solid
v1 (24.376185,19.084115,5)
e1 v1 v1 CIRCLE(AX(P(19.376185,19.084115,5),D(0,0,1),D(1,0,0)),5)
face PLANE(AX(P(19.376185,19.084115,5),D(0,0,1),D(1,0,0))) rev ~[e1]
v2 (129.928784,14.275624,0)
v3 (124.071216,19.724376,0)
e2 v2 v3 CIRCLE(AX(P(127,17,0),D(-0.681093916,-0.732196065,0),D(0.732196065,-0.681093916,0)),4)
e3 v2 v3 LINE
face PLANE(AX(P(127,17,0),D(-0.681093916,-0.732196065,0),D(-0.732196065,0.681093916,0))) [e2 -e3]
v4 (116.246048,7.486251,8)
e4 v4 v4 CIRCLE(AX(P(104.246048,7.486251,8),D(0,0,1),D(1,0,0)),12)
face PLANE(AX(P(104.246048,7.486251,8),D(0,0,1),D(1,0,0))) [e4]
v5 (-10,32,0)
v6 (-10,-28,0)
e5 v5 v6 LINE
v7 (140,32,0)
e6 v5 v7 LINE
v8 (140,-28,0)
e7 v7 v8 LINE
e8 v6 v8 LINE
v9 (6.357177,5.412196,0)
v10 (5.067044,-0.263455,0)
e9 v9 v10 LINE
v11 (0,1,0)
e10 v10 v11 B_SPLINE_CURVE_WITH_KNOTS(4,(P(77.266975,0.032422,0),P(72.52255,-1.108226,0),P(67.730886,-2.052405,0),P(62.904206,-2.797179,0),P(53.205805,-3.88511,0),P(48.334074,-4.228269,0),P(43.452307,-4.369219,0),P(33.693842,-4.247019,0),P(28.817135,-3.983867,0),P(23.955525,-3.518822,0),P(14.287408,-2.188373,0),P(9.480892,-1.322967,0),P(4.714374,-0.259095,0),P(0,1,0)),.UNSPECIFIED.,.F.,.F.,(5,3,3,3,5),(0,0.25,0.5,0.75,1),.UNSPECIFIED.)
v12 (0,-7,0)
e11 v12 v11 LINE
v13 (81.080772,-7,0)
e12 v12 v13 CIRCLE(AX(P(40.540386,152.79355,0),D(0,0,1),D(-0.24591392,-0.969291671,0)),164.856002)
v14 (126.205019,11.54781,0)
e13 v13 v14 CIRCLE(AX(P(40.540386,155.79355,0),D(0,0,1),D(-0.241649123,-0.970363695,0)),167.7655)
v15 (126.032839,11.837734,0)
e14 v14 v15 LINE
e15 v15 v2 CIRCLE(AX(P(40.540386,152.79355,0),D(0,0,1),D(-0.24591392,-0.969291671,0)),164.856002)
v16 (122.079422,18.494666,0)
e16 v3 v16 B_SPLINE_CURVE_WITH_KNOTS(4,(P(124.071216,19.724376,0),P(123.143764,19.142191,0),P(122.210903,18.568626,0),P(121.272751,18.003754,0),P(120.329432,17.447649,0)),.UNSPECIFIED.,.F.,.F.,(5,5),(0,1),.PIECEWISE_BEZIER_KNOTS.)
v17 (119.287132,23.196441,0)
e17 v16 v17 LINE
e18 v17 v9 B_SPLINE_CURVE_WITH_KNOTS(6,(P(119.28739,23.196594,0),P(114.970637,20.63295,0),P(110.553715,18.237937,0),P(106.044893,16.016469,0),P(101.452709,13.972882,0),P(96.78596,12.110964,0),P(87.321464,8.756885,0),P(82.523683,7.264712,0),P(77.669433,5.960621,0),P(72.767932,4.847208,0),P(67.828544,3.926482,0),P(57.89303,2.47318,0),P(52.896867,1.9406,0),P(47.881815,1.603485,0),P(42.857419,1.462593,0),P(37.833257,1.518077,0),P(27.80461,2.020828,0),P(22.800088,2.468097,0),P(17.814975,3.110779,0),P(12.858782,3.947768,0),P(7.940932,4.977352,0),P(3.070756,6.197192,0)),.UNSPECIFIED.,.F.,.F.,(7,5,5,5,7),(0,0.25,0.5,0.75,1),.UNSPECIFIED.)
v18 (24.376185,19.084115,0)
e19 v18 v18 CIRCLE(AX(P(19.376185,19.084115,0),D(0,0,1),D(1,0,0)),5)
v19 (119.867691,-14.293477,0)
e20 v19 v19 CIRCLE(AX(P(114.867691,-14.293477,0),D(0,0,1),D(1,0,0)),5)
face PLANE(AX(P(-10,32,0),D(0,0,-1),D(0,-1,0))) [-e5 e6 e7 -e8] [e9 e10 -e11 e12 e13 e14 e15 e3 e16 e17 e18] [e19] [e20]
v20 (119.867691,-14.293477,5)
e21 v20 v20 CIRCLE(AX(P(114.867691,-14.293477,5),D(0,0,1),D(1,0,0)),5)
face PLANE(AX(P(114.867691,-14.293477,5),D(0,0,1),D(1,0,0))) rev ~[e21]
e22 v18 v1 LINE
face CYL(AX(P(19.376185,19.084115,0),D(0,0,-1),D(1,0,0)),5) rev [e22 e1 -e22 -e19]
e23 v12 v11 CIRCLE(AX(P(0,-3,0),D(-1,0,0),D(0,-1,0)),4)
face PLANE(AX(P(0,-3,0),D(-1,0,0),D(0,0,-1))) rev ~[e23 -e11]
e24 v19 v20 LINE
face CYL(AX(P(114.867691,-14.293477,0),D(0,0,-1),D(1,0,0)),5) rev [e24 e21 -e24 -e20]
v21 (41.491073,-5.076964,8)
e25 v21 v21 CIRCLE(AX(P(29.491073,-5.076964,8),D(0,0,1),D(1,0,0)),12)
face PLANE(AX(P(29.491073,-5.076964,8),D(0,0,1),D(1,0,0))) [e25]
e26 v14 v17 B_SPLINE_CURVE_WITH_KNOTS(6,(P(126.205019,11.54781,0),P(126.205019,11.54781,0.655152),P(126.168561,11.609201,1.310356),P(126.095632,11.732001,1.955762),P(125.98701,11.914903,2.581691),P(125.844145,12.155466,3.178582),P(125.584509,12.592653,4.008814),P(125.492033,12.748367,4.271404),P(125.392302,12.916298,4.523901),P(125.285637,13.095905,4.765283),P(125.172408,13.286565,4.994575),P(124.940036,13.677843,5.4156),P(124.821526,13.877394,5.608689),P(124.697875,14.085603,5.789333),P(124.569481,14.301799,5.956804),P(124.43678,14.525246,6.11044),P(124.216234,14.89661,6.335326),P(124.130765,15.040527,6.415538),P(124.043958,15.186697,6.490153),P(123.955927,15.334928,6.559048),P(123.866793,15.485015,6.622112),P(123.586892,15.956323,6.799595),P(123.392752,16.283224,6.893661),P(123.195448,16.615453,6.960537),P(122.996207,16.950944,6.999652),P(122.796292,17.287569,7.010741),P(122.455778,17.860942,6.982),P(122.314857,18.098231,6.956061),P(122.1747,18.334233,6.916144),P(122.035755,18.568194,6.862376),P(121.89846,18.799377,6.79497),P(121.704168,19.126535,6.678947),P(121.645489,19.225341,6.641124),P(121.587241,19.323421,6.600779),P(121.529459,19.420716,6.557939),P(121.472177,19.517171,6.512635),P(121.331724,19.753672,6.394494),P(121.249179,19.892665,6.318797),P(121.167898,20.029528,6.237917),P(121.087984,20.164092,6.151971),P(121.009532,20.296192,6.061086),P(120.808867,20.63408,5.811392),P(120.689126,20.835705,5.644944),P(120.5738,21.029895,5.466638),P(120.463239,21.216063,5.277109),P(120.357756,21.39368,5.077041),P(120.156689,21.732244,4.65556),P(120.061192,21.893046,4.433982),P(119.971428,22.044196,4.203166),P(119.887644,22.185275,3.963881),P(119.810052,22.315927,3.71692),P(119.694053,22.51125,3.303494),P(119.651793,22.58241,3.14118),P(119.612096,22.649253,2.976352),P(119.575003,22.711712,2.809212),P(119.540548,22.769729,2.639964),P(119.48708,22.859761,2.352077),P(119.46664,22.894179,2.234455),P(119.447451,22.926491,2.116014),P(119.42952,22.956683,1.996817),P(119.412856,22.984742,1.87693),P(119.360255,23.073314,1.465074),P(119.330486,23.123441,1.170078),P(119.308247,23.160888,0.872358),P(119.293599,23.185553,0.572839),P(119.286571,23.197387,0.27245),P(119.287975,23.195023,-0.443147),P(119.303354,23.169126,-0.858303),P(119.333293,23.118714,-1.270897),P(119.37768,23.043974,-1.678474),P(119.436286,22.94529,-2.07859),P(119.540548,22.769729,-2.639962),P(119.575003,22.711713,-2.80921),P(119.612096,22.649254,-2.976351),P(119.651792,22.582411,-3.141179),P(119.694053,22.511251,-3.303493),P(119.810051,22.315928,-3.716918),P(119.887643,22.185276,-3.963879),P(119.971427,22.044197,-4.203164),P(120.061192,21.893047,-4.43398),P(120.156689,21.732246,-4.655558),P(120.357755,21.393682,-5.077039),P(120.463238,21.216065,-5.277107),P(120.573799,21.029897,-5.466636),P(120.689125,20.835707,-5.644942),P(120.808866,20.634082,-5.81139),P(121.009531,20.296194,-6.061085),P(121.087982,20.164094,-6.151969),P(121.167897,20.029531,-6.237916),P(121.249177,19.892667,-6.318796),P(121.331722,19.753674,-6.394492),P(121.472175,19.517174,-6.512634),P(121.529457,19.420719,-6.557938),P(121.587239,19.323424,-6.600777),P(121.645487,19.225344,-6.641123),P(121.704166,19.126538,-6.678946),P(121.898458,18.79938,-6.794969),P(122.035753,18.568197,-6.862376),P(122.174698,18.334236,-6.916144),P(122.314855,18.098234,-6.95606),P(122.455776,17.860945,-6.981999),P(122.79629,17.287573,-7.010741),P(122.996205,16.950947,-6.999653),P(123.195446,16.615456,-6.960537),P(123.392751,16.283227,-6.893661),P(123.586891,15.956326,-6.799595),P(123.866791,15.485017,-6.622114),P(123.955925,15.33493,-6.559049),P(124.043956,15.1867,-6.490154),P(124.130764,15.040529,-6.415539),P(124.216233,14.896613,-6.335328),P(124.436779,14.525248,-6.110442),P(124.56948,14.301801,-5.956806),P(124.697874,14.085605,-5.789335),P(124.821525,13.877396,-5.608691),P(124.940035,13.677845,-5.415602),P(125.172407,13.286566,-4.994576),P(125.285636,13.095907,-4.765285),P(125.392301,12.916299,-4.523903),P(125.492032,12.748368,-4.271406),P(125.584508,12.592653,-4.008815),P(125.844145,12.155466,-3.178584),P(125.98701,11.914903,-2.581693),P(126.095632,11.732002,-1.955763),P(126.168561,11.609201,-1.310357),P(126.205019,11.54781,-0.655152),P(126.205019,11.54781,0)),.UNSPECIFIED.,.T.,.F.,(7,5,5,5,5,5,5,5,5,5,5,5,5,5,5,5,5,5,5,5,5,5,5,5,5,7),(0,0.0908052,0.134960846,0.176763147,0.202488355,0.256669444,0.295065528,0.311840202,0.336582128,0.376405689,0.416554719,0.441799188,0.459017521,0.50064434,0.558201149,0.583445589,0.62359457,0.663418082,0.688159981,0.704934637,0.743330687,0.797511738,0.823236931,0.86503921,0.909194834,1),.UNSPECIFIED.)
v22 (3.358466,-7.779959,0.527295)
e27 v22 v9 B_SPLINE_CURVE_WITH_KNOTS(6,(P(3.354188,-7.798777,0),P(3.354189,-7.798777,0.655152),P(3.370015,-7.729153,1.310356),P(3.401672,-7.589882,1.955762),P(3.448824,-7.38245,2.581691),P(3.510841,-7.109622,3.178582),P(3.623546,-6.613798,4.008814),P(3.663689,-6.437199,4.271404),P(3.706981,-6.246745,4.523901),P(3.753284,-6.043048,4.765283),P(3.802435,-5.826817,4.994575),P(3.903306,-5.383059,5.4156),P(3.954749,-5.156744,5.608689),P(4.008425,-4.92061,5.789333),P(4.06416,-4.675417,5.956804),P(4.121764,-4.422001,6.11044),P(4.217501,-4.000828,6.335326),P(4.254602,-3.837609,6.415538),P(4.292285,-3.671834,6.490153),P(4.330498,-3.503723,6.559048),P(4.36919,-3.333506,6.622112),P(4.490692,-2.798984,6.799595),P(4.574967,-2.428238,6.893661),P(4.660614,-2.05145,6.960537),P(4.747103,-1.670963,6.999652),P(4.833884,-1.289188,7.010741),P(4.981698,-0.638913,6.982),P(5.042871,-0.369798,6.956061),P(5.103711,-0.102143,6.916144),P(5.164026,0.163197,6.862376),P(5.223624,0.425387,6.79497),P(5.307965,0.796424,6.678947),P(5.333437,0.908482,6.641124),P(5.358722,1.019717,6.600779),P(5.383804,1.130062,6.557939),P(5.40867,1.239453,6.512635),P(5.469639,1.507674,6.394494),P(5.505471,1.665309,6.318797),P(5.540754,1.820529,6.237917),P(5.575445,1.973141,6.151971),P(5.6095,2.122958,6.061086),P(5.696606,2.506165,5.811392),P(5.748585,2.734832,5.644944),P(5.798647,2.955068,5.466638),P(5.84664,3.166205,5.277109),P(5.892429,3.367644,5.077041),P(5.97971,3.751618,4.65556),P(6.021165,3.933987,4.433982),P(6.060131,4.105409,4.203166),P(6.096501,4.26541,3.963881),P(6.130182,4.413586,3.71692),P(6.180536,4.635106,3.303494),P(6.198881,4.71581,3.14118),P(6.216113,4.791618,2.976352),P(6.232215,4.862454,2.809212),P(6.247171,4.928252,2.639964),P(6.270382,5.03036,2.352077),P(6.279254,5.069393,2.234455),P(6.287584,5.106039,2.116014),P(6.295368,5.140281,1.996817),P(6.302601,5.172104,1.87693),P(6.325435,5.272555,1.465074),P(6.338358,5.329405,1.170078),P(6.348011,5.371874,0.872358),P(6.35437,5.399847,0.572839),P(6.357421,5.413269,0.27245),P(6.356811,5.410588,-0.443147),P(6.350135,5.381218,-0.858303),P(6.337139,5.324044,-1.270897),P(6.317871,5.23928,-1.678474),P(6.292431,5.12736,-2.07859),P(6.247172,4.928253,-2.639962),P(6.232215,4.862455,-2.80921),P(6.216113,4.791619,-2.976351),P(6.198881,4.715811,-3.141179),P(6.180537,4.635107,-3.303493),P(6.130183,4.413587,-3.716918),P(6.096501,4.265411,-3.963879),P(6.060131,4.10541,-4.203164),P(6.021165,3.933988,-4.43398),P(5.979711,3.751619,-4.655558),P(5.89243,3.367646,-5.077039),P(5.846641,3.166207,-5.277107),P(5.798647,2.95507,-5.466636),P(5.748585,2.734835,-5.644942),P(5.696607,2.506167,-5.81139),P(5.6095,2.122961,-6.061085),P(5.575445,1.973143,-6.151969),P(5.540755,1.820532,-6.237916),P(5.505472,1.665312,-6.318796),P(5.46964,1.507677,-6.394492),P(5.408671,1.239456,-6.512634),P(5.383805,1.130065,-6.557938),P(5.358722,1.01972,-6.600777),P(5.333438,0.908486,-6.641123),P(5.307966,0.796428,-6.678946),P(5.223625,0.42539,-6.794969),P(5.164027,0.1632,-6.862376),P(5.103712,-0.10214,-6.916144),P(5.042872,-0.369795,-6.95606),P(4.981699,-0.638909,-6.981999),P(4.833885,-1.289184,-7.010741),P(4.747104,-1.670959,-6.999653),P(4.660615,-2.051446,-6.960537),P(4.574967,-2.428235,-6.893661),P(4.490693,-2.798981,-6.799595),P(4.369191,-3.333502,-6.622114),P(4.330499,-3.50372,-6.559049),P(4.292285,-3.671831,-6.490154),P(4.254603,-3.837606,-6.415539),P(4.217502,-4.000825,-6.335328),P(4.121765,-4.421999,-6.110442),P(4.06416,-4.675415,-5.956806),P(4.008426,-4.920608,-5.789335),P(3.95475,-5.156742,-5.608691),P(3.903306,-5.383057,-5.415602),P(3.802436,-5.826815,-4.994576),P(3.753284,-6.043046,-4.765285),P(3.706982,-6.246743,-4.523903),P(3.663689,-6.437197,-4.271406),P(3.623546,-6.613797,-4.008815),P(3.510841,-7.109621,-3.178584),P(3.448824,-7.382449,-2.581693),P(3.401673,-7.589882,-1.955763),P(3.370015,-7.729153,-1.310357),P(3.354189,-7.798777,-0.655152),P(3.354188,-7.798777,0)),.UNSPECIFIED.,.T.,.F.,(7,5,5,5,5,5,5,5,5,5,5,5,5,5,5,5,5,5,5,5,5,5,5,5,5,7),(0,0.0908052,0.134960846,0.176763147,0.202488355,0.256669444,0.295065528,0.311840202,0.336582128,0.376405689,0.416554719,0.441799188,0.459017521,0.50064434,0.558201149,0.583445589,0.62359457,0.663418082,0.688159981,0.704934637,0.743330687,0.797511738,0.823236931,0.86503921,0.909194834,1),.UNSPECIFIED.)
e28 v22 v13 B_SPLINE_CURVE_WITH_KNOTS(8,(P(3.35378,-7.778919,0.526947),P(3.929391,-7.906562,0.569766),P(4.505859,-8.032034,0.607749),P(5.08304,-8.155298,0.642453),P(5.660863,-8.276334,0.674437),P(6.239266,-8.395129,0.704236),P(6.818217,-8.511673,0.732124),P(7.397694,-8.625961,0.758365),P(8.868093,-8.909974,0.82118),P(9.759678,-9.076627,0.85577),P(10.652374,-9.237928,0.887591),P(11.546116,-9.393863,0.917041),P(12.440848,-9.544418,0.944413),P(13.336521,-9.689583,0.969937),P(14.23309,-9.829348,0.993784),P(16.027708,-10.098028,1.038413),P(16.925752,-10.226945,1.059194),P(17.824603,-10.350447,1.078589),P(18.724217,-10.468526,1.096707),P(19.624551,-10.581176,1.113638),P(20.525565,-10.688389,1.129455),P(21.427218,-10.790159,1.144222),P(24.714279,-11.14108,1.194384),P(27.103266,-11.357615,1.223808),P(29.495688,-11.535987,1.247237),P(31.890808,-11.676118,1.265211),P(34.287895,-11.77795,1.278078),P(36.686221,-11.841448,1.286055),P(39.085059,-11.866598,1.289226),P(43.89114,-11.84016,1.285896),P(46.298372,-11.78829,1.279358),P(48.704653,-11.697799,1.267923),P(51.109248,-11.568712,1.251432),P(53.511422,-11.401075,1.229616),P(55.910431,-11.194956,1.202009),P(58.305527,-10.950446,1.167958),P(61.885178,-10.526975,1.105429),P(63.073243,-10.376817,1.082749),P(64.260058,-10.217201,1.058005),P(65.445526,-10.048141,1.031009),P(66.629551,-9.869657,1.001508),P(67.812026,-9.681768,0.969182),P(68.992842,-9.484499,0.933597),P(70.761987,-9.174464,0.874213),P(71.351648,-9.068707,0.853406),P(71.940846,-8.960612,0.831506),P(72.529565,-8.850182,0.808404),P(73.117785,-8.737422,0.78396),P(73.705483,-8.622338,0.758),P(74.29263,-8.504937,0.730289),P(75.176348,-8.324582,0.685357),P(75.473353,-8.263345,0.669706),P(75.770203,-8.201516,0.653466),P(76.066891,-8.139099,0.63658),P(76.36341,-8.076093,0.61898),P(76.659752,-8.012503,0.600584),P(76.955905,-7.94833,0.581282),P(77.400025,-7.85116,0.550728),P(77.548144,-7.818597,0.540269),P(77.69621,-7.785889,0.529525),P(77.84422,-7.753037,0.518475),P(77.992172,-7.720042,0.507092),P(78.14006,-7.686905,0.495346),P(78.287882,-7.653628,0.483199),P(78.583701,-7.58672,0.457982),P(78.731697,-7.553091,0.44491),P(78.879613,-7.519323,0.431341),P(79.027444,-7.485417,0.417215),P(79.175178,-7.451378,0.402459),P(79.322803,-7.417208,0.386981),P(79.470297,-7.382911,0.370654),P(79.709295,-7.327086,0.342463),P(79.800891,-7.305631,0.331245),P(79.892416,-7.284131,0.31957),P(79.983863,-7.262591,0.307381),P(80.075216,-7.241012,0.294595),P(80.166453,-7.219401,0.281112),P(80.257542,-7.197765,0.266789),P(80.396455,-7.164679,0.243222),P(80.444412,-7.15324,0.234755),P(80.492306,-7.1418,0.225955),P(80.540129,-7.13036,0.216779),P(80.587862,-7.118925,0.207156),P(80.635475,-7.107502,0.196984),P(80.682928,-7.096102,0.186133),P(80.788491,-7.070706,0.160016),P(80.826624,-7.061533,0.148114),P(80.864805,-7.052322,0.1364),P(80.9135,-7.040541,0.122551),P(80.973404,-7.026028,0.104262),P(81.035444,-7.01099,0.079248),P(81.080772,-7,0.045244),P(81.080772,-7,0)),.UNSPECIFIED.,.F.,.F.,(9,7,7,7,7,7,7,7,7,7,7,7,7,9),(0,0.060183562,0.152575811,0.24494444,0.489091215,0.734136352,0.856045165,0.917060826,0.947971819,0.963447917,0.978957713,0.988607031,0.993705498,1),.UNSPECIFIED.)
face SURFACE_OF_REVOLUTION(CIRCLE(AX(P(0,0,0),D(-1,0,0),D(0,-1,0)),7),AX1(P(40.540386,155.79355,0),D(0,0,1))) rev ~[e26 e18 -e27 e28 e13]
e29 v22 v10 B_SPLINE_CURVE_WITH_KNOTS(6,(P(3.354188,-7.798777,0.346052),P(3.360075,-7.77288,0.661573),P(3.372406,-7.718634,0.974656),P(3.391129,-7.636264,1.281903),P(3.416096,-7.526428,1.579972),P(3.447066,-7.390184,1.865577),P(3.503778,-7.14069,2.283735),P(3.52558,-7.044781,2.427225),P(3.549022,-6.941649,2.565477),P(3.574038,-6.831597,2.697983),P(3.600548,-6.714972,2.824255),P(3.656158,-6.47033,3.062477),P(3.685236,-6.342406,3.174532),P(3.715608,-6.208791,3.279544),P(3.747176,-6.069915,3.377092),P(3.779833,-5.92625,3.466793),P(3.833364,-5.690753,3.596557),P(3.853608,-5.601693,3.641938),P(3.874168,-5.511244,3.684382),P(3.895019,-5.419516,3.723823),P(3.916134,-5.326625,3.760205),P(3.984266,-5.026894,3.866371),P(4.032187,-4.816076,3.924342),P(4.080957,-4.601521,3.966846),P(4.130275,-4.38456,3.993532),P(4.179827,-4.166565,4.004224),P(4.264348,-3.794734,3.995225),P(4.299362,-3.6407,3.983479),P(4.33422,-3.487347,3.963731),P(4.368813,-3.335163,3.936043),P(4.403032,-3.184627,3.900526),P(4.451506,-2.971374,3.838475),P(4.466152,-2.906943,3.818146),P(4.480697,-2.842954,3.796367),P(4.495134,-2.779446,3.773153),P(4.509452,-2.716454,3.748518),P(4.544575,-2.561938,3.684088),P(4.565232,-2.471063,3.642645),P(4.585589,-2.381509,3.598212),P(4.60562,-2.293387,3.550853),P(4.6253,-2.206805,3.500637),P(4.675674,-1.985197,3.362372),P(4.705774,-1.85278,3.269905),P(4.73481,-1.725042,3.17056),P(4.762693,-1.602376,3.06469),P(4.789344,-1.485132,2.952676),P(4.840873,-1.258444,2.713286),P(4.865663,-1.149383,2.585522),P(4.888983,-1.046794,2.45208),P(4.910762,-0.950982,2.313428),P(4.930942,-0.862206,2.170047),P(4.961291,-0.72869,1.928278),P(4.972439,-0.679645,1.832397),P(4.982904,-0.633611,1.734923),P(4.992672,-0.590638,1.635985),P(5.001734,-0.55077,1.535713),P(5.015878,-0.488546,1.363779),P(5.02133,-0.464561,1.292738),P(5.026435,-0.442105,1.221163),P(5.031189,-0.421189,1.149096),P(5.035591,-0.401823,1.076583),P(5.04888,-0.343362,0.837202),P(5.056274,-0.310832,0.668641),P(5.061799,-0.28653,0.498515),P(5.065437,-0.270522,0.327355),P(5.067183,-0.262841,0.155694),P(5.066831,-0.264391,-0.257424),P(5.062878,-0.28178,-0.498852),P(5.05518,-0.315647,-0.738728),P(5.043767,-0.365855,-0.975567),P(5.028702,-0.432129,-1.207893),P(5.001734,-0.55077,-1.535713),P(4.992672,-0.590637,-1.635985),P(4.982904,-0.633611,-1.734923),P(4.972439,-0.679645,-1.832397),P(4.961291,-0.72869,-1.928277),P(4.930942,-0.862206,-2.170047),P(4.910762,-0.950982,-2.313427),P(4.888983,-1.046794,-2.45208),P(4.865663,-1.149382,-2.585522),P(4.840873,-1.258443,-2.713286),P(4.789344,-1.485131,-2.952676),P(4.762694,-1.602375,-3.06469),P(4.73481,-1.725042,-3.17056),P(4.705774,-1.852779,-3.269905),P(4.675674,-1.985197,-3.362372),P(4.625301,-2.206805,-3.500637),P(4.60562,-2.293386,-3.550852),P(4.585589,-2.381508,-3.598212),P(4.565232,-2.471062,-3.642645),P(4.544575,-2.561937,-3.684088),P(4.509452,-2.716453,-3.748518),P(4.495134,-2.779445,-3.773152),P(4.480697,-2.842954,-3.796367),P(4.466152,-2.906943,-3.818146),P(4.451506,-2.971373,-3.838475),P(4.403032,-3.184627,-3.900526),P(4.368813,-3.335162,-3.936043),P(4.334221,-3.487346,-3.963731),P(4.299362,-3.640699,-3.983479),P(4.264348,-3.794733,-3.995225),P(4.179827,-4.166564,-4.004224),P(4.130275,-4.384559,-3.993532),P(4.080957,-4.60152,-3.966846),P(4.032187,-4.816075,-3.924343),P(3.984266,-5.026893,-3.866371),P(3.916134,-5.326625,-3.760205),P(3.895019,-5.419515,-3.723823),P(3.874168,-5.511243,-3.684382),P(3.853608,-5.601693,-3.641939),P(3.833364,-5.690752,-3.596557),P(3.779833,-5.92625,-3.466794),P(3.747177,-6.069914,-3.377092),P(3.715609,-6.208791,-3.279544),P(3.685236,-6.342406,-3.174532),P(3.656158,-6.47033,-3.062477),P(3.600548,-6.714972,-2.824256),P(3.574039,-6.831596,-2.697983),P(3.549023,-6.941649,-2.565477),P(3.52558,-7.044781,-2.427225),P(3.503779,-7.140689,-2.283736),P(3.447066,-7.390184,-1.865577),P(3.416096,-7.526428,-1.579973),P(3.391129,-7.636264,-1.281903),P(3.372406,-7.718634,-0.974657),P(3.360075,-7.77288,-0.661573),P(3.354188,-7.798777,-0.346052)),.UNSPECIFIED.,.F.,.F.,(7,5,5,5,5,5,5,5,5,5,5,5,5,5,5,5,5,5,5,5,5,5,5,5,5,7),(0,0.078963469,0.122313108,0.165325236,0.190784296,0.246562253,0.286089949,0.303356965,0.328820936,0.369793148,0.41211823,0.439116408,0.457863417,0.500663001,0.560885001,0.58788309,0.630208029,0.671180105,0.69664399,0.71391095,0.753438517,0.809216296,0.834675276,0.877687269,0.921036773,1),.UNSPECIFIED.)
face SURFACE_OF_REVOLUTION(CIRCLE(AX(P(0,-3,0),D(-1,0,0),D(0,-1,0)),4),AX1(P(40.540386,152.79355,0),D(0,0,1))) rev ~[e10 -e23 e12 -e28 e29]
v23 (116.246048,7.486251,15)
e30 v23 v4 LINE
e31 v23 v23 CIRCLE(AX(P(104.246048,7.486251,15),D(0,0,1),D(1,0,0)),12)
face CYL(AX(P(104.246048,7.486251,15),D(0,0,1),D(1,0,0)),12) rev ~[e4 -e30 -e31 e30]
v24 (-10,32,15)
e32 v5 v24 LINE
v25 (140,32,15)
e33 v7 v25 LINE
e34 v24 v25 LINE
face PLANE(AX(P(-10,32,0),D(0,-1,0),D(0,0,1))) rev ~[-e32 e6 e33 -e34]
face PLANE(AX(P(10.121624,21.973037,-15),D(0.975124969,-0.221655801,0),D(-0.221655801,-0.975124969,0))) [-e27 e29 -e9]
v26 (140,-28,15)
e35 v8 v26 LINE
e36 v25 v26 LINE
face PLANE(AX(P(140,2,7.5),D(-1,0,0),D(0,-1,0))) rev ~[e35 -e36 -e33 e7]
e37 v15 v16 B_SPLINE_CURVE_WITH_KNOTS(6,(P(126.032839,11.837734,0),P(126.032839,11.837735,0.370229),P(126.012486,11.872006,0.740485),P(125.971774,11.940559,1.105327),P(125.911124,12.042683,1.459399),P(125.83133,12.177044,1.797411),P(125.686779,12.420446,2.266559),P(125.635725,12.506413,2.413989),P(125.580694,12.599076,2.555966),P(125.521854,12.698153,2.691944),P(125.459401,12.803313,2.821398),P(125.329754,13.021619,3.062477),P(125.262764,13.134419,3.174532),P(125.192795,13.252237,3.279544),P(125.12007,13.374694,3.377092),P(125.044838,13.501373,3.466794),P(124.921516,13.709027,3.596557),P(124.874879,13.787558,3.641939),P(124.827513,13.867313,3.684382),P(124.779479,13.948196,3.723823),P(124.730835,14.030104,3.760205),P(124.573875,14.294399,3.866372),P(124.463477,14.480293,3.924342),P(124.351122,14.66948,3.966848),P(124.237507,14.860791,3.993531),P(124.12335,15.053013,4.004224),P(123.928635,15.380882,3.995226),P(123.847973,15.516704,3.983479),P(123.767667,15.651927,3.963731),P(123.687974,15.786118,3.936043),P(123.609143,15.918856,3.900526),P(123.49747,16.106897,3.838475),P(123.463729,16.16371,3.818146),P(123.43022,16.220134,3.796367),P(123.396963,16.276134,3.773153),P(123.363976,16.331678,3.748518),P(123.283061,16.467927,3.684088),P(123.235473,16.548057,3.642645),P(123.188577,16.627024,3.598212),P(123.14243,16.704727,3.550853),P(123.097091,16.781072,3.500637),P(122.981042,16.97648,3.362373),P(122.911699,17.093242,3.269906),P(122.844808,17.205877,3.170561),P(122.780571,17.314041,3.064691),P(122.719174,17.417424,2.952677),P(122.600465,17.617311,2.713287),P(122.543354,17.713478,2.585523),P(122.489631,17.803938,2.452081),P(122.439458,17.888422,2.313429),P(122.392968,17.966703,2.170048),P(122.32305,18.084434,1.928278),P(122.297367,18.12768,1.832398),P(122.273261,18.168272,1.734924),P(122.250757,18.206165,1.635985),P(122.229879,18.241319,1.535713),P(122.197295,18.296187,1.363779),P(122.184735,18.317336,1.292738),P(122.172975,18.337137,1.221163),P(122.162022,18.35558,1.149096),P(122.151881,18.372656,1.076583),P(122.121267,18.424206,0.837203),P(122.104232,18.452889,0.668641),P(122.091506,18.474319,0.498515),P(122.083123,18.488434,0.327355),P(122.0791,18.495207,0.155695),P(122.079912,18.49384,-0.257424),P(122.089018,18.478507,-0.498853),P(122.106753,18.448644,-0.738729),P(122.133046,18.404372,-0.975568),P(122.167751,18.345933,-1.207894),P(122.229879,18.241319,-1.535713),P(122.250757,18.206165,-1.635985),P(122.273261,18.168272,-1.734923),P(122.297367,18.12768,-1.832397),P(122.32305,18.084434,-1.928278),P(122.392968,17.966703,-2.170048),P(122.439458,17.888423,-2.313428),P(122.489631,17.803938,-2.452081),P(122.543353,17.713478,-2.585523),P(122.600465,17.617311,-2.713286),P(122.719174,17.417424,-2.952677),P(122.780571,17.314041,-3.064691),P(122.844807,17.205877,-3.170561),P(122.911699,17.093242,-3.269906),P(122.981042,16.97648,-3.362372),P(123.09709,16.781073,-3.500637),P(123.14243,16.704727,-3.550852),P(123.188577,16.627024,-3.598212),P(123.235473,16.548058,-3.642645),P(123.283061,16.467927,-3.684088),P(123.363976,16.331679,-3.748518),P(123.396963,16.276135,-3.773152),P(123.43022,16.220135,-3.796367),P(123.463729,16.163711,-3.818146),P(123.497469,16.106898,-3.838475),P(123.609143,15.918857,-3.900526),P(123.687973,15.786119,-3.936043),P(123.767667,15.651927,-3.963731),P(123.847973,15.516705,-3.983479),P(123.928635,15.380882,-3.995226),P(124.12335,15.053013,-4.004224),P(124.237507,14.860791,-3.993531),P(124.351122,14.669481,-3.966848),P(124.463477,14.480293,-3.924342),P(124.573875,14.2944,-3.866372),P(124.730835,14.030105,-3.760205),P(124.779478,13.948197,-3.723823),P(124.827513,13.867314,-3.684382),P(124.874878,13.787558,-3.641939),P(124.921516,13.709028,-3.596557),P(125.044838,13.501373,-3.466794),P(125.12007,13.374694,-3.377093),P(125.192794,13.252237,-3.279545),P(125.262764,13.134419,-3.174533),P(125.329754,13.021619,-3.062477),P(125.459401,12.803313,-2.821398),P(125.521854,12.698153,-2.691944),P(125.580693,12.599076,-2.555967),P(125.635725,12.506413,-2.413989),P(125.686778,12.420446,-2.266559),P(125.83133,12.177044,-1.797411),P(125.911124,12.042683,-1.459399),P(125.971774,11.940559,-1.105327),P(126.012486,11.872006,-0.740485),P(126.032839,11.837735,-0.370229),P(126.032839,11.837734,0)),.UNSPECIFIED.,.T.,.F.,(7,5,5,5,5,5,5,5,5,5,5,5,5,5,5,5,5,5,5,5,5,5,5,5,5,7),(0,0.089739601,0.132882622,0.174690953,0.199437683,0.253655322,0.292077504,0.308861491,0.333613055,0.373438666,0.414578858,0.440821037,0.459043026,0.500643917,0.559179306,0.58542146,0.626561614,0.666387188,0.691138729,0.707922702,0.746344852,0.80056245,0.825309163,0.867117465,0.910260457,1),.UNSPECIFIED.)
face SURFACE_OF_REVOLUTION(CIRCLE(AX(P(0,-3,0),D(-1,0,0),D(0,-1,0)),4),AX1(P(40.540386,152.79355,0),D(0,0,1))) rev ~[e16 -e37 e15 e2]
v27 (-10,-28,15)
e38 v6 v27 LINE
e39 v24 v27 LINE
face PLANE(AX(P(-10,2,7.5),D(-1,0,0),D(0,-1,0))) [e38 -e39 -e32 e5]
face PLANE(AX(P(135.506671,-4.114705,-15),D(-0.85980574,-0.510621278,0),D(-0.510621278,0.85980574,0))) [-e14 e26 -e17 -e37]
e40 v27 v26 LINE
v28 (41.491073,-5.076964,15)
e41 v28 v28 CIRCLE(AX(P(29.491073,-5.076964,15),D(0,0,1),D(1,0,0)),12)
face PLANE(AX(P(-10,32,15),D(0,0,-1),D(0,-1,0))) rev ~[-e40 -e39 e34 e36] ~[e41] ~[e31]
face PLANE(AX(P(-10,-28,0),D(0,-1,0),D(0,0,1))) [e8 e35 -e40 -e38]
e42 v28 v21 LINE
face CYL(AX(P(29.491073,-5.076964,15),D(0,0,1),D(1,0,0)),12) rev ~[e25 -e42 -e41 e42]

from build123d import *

# Parameters (mm, degrees)
SKETCH047_R      = 5
EXTRUDE030_DEPTH = 5
SKETCH045_R      = 12
EXTRUDE028_DEPTH = 7
SKETCH042_R      = 4
EXTRUDE025_DEPTH = 30
SKETCH040_R      = 7
SKETCH043_W      = 60
SKETCH043_H      = 15
EXTRUDE026_DEPTH = 150


with BuildPart() as extrude030:
    # Sketch047 → Extrude030 (new body)
    with BuildSketch(Plane.XY):
        with Locations((19.376185, 19.084115)):
            Circle(SKETCH047_R)
        with Locations((114.867691, -14.293477)):
            Circle(SKETCH047_R)
    extrude(amount=EXTRUDE030_DEPTH)


with BuildPart() as sprue_and_vent001:
    # Sketch045 → Extrude028 (new body)
    with BuildSketch(Plane.XY.offset(15)):
        with Locations((29.491073, -5.076964)):
            Circle(SKETCH045_R)
        with Locations((104.246048, 7.486251)):
            Circle(SKETCH045_R)
    extrude(amount=-EXTRUDE028_DEPTH)


with BuildPart() as sweep012:
    # Sweep012: sweep along a path in Sketch
    with BuildLine(Plane.XY) as sweep012_path:
        ThreePointArc((0, 0), (65.583227, -3.22849), (127, 20))
    # Sketch042 → Sweep012 (sweep)
    with BuildSketch(Plane(origin=(0, 0, 0), x_dir=(0, -1, 0), z_dir=(-1, 0, 0))):
        Circle(SKETCH042_R)
    sweep(path=sweep012_path.line)


with BuildPart() as sweep012_1:
    # Sweep012 placement: moved
    add(sweep012.part.moved(Location((0, -3, 0))))


with BuildPart() as extrude025:
    # Sketch041 → Extrude025 (new body)
    with BuildSketch(Plane.XY.offset(-15)):
        Polygon((-8.268976, 21.973037), (10.121624, 21.973037), (-0.555824, -25), (-25.401805, -25), align=None)
        Polygon((105.81268, 45.885295), (155.276998, 45.885295), (207.473539, -4.114705), (135.506671, -4.114705), align=None)
    extrude(amount=EXTRUDE025_DEPTH)


with BuildPart() as fusion012:
    # Sweep009: sweep along a path in Sketch
    with BuildLine(Plane.XY) as sweep009_path:
        ThreePointArc((0, 0), (65.583227, -3.22849), (127, 20))
    # Sketch040 → Sweep009 (sweep)
    with BuildSketch(Plane(origin=(0, 0, 0), x_dir=(0, -1, 0), z_dir=(-1, 0, 0))):
        Circle(SKETCH040_R)
    sweep(path=sweep009_path.line)

    # Cut011: cut Extrude025
    add(extrude025.part, mode=Mode.SUBTRACT)

    # Fusion011: union Sweep012
    add(sweep012_1.part)

    # Fusion012: union Sprue and Vent001
    add(sprue_and_vent001.part)


with BuildPart() as motor_mold_top:
    # Sketch043 → Extrude026 (new body)
    with BuildSketch(Plane(origin=(-10, 0, 0), x_dir=(0, -1, 0), z_dir=(-1, 0, 0))):
        with Locations((-2, 7.5)):
            Rectangle(SKETCH043_W, SKETCH043_H)
    extrude(amount=-EXTRUDE026_DEPTH)

    # Cut012: cut Fusion012
    add(fusion012.part, mode=Mode.SUBTRACT)

    # Cut014: cut Extrude030
    add(extrude030.part, mode=Mode.SUBTRACT)


solid = motor_mold_top.part
